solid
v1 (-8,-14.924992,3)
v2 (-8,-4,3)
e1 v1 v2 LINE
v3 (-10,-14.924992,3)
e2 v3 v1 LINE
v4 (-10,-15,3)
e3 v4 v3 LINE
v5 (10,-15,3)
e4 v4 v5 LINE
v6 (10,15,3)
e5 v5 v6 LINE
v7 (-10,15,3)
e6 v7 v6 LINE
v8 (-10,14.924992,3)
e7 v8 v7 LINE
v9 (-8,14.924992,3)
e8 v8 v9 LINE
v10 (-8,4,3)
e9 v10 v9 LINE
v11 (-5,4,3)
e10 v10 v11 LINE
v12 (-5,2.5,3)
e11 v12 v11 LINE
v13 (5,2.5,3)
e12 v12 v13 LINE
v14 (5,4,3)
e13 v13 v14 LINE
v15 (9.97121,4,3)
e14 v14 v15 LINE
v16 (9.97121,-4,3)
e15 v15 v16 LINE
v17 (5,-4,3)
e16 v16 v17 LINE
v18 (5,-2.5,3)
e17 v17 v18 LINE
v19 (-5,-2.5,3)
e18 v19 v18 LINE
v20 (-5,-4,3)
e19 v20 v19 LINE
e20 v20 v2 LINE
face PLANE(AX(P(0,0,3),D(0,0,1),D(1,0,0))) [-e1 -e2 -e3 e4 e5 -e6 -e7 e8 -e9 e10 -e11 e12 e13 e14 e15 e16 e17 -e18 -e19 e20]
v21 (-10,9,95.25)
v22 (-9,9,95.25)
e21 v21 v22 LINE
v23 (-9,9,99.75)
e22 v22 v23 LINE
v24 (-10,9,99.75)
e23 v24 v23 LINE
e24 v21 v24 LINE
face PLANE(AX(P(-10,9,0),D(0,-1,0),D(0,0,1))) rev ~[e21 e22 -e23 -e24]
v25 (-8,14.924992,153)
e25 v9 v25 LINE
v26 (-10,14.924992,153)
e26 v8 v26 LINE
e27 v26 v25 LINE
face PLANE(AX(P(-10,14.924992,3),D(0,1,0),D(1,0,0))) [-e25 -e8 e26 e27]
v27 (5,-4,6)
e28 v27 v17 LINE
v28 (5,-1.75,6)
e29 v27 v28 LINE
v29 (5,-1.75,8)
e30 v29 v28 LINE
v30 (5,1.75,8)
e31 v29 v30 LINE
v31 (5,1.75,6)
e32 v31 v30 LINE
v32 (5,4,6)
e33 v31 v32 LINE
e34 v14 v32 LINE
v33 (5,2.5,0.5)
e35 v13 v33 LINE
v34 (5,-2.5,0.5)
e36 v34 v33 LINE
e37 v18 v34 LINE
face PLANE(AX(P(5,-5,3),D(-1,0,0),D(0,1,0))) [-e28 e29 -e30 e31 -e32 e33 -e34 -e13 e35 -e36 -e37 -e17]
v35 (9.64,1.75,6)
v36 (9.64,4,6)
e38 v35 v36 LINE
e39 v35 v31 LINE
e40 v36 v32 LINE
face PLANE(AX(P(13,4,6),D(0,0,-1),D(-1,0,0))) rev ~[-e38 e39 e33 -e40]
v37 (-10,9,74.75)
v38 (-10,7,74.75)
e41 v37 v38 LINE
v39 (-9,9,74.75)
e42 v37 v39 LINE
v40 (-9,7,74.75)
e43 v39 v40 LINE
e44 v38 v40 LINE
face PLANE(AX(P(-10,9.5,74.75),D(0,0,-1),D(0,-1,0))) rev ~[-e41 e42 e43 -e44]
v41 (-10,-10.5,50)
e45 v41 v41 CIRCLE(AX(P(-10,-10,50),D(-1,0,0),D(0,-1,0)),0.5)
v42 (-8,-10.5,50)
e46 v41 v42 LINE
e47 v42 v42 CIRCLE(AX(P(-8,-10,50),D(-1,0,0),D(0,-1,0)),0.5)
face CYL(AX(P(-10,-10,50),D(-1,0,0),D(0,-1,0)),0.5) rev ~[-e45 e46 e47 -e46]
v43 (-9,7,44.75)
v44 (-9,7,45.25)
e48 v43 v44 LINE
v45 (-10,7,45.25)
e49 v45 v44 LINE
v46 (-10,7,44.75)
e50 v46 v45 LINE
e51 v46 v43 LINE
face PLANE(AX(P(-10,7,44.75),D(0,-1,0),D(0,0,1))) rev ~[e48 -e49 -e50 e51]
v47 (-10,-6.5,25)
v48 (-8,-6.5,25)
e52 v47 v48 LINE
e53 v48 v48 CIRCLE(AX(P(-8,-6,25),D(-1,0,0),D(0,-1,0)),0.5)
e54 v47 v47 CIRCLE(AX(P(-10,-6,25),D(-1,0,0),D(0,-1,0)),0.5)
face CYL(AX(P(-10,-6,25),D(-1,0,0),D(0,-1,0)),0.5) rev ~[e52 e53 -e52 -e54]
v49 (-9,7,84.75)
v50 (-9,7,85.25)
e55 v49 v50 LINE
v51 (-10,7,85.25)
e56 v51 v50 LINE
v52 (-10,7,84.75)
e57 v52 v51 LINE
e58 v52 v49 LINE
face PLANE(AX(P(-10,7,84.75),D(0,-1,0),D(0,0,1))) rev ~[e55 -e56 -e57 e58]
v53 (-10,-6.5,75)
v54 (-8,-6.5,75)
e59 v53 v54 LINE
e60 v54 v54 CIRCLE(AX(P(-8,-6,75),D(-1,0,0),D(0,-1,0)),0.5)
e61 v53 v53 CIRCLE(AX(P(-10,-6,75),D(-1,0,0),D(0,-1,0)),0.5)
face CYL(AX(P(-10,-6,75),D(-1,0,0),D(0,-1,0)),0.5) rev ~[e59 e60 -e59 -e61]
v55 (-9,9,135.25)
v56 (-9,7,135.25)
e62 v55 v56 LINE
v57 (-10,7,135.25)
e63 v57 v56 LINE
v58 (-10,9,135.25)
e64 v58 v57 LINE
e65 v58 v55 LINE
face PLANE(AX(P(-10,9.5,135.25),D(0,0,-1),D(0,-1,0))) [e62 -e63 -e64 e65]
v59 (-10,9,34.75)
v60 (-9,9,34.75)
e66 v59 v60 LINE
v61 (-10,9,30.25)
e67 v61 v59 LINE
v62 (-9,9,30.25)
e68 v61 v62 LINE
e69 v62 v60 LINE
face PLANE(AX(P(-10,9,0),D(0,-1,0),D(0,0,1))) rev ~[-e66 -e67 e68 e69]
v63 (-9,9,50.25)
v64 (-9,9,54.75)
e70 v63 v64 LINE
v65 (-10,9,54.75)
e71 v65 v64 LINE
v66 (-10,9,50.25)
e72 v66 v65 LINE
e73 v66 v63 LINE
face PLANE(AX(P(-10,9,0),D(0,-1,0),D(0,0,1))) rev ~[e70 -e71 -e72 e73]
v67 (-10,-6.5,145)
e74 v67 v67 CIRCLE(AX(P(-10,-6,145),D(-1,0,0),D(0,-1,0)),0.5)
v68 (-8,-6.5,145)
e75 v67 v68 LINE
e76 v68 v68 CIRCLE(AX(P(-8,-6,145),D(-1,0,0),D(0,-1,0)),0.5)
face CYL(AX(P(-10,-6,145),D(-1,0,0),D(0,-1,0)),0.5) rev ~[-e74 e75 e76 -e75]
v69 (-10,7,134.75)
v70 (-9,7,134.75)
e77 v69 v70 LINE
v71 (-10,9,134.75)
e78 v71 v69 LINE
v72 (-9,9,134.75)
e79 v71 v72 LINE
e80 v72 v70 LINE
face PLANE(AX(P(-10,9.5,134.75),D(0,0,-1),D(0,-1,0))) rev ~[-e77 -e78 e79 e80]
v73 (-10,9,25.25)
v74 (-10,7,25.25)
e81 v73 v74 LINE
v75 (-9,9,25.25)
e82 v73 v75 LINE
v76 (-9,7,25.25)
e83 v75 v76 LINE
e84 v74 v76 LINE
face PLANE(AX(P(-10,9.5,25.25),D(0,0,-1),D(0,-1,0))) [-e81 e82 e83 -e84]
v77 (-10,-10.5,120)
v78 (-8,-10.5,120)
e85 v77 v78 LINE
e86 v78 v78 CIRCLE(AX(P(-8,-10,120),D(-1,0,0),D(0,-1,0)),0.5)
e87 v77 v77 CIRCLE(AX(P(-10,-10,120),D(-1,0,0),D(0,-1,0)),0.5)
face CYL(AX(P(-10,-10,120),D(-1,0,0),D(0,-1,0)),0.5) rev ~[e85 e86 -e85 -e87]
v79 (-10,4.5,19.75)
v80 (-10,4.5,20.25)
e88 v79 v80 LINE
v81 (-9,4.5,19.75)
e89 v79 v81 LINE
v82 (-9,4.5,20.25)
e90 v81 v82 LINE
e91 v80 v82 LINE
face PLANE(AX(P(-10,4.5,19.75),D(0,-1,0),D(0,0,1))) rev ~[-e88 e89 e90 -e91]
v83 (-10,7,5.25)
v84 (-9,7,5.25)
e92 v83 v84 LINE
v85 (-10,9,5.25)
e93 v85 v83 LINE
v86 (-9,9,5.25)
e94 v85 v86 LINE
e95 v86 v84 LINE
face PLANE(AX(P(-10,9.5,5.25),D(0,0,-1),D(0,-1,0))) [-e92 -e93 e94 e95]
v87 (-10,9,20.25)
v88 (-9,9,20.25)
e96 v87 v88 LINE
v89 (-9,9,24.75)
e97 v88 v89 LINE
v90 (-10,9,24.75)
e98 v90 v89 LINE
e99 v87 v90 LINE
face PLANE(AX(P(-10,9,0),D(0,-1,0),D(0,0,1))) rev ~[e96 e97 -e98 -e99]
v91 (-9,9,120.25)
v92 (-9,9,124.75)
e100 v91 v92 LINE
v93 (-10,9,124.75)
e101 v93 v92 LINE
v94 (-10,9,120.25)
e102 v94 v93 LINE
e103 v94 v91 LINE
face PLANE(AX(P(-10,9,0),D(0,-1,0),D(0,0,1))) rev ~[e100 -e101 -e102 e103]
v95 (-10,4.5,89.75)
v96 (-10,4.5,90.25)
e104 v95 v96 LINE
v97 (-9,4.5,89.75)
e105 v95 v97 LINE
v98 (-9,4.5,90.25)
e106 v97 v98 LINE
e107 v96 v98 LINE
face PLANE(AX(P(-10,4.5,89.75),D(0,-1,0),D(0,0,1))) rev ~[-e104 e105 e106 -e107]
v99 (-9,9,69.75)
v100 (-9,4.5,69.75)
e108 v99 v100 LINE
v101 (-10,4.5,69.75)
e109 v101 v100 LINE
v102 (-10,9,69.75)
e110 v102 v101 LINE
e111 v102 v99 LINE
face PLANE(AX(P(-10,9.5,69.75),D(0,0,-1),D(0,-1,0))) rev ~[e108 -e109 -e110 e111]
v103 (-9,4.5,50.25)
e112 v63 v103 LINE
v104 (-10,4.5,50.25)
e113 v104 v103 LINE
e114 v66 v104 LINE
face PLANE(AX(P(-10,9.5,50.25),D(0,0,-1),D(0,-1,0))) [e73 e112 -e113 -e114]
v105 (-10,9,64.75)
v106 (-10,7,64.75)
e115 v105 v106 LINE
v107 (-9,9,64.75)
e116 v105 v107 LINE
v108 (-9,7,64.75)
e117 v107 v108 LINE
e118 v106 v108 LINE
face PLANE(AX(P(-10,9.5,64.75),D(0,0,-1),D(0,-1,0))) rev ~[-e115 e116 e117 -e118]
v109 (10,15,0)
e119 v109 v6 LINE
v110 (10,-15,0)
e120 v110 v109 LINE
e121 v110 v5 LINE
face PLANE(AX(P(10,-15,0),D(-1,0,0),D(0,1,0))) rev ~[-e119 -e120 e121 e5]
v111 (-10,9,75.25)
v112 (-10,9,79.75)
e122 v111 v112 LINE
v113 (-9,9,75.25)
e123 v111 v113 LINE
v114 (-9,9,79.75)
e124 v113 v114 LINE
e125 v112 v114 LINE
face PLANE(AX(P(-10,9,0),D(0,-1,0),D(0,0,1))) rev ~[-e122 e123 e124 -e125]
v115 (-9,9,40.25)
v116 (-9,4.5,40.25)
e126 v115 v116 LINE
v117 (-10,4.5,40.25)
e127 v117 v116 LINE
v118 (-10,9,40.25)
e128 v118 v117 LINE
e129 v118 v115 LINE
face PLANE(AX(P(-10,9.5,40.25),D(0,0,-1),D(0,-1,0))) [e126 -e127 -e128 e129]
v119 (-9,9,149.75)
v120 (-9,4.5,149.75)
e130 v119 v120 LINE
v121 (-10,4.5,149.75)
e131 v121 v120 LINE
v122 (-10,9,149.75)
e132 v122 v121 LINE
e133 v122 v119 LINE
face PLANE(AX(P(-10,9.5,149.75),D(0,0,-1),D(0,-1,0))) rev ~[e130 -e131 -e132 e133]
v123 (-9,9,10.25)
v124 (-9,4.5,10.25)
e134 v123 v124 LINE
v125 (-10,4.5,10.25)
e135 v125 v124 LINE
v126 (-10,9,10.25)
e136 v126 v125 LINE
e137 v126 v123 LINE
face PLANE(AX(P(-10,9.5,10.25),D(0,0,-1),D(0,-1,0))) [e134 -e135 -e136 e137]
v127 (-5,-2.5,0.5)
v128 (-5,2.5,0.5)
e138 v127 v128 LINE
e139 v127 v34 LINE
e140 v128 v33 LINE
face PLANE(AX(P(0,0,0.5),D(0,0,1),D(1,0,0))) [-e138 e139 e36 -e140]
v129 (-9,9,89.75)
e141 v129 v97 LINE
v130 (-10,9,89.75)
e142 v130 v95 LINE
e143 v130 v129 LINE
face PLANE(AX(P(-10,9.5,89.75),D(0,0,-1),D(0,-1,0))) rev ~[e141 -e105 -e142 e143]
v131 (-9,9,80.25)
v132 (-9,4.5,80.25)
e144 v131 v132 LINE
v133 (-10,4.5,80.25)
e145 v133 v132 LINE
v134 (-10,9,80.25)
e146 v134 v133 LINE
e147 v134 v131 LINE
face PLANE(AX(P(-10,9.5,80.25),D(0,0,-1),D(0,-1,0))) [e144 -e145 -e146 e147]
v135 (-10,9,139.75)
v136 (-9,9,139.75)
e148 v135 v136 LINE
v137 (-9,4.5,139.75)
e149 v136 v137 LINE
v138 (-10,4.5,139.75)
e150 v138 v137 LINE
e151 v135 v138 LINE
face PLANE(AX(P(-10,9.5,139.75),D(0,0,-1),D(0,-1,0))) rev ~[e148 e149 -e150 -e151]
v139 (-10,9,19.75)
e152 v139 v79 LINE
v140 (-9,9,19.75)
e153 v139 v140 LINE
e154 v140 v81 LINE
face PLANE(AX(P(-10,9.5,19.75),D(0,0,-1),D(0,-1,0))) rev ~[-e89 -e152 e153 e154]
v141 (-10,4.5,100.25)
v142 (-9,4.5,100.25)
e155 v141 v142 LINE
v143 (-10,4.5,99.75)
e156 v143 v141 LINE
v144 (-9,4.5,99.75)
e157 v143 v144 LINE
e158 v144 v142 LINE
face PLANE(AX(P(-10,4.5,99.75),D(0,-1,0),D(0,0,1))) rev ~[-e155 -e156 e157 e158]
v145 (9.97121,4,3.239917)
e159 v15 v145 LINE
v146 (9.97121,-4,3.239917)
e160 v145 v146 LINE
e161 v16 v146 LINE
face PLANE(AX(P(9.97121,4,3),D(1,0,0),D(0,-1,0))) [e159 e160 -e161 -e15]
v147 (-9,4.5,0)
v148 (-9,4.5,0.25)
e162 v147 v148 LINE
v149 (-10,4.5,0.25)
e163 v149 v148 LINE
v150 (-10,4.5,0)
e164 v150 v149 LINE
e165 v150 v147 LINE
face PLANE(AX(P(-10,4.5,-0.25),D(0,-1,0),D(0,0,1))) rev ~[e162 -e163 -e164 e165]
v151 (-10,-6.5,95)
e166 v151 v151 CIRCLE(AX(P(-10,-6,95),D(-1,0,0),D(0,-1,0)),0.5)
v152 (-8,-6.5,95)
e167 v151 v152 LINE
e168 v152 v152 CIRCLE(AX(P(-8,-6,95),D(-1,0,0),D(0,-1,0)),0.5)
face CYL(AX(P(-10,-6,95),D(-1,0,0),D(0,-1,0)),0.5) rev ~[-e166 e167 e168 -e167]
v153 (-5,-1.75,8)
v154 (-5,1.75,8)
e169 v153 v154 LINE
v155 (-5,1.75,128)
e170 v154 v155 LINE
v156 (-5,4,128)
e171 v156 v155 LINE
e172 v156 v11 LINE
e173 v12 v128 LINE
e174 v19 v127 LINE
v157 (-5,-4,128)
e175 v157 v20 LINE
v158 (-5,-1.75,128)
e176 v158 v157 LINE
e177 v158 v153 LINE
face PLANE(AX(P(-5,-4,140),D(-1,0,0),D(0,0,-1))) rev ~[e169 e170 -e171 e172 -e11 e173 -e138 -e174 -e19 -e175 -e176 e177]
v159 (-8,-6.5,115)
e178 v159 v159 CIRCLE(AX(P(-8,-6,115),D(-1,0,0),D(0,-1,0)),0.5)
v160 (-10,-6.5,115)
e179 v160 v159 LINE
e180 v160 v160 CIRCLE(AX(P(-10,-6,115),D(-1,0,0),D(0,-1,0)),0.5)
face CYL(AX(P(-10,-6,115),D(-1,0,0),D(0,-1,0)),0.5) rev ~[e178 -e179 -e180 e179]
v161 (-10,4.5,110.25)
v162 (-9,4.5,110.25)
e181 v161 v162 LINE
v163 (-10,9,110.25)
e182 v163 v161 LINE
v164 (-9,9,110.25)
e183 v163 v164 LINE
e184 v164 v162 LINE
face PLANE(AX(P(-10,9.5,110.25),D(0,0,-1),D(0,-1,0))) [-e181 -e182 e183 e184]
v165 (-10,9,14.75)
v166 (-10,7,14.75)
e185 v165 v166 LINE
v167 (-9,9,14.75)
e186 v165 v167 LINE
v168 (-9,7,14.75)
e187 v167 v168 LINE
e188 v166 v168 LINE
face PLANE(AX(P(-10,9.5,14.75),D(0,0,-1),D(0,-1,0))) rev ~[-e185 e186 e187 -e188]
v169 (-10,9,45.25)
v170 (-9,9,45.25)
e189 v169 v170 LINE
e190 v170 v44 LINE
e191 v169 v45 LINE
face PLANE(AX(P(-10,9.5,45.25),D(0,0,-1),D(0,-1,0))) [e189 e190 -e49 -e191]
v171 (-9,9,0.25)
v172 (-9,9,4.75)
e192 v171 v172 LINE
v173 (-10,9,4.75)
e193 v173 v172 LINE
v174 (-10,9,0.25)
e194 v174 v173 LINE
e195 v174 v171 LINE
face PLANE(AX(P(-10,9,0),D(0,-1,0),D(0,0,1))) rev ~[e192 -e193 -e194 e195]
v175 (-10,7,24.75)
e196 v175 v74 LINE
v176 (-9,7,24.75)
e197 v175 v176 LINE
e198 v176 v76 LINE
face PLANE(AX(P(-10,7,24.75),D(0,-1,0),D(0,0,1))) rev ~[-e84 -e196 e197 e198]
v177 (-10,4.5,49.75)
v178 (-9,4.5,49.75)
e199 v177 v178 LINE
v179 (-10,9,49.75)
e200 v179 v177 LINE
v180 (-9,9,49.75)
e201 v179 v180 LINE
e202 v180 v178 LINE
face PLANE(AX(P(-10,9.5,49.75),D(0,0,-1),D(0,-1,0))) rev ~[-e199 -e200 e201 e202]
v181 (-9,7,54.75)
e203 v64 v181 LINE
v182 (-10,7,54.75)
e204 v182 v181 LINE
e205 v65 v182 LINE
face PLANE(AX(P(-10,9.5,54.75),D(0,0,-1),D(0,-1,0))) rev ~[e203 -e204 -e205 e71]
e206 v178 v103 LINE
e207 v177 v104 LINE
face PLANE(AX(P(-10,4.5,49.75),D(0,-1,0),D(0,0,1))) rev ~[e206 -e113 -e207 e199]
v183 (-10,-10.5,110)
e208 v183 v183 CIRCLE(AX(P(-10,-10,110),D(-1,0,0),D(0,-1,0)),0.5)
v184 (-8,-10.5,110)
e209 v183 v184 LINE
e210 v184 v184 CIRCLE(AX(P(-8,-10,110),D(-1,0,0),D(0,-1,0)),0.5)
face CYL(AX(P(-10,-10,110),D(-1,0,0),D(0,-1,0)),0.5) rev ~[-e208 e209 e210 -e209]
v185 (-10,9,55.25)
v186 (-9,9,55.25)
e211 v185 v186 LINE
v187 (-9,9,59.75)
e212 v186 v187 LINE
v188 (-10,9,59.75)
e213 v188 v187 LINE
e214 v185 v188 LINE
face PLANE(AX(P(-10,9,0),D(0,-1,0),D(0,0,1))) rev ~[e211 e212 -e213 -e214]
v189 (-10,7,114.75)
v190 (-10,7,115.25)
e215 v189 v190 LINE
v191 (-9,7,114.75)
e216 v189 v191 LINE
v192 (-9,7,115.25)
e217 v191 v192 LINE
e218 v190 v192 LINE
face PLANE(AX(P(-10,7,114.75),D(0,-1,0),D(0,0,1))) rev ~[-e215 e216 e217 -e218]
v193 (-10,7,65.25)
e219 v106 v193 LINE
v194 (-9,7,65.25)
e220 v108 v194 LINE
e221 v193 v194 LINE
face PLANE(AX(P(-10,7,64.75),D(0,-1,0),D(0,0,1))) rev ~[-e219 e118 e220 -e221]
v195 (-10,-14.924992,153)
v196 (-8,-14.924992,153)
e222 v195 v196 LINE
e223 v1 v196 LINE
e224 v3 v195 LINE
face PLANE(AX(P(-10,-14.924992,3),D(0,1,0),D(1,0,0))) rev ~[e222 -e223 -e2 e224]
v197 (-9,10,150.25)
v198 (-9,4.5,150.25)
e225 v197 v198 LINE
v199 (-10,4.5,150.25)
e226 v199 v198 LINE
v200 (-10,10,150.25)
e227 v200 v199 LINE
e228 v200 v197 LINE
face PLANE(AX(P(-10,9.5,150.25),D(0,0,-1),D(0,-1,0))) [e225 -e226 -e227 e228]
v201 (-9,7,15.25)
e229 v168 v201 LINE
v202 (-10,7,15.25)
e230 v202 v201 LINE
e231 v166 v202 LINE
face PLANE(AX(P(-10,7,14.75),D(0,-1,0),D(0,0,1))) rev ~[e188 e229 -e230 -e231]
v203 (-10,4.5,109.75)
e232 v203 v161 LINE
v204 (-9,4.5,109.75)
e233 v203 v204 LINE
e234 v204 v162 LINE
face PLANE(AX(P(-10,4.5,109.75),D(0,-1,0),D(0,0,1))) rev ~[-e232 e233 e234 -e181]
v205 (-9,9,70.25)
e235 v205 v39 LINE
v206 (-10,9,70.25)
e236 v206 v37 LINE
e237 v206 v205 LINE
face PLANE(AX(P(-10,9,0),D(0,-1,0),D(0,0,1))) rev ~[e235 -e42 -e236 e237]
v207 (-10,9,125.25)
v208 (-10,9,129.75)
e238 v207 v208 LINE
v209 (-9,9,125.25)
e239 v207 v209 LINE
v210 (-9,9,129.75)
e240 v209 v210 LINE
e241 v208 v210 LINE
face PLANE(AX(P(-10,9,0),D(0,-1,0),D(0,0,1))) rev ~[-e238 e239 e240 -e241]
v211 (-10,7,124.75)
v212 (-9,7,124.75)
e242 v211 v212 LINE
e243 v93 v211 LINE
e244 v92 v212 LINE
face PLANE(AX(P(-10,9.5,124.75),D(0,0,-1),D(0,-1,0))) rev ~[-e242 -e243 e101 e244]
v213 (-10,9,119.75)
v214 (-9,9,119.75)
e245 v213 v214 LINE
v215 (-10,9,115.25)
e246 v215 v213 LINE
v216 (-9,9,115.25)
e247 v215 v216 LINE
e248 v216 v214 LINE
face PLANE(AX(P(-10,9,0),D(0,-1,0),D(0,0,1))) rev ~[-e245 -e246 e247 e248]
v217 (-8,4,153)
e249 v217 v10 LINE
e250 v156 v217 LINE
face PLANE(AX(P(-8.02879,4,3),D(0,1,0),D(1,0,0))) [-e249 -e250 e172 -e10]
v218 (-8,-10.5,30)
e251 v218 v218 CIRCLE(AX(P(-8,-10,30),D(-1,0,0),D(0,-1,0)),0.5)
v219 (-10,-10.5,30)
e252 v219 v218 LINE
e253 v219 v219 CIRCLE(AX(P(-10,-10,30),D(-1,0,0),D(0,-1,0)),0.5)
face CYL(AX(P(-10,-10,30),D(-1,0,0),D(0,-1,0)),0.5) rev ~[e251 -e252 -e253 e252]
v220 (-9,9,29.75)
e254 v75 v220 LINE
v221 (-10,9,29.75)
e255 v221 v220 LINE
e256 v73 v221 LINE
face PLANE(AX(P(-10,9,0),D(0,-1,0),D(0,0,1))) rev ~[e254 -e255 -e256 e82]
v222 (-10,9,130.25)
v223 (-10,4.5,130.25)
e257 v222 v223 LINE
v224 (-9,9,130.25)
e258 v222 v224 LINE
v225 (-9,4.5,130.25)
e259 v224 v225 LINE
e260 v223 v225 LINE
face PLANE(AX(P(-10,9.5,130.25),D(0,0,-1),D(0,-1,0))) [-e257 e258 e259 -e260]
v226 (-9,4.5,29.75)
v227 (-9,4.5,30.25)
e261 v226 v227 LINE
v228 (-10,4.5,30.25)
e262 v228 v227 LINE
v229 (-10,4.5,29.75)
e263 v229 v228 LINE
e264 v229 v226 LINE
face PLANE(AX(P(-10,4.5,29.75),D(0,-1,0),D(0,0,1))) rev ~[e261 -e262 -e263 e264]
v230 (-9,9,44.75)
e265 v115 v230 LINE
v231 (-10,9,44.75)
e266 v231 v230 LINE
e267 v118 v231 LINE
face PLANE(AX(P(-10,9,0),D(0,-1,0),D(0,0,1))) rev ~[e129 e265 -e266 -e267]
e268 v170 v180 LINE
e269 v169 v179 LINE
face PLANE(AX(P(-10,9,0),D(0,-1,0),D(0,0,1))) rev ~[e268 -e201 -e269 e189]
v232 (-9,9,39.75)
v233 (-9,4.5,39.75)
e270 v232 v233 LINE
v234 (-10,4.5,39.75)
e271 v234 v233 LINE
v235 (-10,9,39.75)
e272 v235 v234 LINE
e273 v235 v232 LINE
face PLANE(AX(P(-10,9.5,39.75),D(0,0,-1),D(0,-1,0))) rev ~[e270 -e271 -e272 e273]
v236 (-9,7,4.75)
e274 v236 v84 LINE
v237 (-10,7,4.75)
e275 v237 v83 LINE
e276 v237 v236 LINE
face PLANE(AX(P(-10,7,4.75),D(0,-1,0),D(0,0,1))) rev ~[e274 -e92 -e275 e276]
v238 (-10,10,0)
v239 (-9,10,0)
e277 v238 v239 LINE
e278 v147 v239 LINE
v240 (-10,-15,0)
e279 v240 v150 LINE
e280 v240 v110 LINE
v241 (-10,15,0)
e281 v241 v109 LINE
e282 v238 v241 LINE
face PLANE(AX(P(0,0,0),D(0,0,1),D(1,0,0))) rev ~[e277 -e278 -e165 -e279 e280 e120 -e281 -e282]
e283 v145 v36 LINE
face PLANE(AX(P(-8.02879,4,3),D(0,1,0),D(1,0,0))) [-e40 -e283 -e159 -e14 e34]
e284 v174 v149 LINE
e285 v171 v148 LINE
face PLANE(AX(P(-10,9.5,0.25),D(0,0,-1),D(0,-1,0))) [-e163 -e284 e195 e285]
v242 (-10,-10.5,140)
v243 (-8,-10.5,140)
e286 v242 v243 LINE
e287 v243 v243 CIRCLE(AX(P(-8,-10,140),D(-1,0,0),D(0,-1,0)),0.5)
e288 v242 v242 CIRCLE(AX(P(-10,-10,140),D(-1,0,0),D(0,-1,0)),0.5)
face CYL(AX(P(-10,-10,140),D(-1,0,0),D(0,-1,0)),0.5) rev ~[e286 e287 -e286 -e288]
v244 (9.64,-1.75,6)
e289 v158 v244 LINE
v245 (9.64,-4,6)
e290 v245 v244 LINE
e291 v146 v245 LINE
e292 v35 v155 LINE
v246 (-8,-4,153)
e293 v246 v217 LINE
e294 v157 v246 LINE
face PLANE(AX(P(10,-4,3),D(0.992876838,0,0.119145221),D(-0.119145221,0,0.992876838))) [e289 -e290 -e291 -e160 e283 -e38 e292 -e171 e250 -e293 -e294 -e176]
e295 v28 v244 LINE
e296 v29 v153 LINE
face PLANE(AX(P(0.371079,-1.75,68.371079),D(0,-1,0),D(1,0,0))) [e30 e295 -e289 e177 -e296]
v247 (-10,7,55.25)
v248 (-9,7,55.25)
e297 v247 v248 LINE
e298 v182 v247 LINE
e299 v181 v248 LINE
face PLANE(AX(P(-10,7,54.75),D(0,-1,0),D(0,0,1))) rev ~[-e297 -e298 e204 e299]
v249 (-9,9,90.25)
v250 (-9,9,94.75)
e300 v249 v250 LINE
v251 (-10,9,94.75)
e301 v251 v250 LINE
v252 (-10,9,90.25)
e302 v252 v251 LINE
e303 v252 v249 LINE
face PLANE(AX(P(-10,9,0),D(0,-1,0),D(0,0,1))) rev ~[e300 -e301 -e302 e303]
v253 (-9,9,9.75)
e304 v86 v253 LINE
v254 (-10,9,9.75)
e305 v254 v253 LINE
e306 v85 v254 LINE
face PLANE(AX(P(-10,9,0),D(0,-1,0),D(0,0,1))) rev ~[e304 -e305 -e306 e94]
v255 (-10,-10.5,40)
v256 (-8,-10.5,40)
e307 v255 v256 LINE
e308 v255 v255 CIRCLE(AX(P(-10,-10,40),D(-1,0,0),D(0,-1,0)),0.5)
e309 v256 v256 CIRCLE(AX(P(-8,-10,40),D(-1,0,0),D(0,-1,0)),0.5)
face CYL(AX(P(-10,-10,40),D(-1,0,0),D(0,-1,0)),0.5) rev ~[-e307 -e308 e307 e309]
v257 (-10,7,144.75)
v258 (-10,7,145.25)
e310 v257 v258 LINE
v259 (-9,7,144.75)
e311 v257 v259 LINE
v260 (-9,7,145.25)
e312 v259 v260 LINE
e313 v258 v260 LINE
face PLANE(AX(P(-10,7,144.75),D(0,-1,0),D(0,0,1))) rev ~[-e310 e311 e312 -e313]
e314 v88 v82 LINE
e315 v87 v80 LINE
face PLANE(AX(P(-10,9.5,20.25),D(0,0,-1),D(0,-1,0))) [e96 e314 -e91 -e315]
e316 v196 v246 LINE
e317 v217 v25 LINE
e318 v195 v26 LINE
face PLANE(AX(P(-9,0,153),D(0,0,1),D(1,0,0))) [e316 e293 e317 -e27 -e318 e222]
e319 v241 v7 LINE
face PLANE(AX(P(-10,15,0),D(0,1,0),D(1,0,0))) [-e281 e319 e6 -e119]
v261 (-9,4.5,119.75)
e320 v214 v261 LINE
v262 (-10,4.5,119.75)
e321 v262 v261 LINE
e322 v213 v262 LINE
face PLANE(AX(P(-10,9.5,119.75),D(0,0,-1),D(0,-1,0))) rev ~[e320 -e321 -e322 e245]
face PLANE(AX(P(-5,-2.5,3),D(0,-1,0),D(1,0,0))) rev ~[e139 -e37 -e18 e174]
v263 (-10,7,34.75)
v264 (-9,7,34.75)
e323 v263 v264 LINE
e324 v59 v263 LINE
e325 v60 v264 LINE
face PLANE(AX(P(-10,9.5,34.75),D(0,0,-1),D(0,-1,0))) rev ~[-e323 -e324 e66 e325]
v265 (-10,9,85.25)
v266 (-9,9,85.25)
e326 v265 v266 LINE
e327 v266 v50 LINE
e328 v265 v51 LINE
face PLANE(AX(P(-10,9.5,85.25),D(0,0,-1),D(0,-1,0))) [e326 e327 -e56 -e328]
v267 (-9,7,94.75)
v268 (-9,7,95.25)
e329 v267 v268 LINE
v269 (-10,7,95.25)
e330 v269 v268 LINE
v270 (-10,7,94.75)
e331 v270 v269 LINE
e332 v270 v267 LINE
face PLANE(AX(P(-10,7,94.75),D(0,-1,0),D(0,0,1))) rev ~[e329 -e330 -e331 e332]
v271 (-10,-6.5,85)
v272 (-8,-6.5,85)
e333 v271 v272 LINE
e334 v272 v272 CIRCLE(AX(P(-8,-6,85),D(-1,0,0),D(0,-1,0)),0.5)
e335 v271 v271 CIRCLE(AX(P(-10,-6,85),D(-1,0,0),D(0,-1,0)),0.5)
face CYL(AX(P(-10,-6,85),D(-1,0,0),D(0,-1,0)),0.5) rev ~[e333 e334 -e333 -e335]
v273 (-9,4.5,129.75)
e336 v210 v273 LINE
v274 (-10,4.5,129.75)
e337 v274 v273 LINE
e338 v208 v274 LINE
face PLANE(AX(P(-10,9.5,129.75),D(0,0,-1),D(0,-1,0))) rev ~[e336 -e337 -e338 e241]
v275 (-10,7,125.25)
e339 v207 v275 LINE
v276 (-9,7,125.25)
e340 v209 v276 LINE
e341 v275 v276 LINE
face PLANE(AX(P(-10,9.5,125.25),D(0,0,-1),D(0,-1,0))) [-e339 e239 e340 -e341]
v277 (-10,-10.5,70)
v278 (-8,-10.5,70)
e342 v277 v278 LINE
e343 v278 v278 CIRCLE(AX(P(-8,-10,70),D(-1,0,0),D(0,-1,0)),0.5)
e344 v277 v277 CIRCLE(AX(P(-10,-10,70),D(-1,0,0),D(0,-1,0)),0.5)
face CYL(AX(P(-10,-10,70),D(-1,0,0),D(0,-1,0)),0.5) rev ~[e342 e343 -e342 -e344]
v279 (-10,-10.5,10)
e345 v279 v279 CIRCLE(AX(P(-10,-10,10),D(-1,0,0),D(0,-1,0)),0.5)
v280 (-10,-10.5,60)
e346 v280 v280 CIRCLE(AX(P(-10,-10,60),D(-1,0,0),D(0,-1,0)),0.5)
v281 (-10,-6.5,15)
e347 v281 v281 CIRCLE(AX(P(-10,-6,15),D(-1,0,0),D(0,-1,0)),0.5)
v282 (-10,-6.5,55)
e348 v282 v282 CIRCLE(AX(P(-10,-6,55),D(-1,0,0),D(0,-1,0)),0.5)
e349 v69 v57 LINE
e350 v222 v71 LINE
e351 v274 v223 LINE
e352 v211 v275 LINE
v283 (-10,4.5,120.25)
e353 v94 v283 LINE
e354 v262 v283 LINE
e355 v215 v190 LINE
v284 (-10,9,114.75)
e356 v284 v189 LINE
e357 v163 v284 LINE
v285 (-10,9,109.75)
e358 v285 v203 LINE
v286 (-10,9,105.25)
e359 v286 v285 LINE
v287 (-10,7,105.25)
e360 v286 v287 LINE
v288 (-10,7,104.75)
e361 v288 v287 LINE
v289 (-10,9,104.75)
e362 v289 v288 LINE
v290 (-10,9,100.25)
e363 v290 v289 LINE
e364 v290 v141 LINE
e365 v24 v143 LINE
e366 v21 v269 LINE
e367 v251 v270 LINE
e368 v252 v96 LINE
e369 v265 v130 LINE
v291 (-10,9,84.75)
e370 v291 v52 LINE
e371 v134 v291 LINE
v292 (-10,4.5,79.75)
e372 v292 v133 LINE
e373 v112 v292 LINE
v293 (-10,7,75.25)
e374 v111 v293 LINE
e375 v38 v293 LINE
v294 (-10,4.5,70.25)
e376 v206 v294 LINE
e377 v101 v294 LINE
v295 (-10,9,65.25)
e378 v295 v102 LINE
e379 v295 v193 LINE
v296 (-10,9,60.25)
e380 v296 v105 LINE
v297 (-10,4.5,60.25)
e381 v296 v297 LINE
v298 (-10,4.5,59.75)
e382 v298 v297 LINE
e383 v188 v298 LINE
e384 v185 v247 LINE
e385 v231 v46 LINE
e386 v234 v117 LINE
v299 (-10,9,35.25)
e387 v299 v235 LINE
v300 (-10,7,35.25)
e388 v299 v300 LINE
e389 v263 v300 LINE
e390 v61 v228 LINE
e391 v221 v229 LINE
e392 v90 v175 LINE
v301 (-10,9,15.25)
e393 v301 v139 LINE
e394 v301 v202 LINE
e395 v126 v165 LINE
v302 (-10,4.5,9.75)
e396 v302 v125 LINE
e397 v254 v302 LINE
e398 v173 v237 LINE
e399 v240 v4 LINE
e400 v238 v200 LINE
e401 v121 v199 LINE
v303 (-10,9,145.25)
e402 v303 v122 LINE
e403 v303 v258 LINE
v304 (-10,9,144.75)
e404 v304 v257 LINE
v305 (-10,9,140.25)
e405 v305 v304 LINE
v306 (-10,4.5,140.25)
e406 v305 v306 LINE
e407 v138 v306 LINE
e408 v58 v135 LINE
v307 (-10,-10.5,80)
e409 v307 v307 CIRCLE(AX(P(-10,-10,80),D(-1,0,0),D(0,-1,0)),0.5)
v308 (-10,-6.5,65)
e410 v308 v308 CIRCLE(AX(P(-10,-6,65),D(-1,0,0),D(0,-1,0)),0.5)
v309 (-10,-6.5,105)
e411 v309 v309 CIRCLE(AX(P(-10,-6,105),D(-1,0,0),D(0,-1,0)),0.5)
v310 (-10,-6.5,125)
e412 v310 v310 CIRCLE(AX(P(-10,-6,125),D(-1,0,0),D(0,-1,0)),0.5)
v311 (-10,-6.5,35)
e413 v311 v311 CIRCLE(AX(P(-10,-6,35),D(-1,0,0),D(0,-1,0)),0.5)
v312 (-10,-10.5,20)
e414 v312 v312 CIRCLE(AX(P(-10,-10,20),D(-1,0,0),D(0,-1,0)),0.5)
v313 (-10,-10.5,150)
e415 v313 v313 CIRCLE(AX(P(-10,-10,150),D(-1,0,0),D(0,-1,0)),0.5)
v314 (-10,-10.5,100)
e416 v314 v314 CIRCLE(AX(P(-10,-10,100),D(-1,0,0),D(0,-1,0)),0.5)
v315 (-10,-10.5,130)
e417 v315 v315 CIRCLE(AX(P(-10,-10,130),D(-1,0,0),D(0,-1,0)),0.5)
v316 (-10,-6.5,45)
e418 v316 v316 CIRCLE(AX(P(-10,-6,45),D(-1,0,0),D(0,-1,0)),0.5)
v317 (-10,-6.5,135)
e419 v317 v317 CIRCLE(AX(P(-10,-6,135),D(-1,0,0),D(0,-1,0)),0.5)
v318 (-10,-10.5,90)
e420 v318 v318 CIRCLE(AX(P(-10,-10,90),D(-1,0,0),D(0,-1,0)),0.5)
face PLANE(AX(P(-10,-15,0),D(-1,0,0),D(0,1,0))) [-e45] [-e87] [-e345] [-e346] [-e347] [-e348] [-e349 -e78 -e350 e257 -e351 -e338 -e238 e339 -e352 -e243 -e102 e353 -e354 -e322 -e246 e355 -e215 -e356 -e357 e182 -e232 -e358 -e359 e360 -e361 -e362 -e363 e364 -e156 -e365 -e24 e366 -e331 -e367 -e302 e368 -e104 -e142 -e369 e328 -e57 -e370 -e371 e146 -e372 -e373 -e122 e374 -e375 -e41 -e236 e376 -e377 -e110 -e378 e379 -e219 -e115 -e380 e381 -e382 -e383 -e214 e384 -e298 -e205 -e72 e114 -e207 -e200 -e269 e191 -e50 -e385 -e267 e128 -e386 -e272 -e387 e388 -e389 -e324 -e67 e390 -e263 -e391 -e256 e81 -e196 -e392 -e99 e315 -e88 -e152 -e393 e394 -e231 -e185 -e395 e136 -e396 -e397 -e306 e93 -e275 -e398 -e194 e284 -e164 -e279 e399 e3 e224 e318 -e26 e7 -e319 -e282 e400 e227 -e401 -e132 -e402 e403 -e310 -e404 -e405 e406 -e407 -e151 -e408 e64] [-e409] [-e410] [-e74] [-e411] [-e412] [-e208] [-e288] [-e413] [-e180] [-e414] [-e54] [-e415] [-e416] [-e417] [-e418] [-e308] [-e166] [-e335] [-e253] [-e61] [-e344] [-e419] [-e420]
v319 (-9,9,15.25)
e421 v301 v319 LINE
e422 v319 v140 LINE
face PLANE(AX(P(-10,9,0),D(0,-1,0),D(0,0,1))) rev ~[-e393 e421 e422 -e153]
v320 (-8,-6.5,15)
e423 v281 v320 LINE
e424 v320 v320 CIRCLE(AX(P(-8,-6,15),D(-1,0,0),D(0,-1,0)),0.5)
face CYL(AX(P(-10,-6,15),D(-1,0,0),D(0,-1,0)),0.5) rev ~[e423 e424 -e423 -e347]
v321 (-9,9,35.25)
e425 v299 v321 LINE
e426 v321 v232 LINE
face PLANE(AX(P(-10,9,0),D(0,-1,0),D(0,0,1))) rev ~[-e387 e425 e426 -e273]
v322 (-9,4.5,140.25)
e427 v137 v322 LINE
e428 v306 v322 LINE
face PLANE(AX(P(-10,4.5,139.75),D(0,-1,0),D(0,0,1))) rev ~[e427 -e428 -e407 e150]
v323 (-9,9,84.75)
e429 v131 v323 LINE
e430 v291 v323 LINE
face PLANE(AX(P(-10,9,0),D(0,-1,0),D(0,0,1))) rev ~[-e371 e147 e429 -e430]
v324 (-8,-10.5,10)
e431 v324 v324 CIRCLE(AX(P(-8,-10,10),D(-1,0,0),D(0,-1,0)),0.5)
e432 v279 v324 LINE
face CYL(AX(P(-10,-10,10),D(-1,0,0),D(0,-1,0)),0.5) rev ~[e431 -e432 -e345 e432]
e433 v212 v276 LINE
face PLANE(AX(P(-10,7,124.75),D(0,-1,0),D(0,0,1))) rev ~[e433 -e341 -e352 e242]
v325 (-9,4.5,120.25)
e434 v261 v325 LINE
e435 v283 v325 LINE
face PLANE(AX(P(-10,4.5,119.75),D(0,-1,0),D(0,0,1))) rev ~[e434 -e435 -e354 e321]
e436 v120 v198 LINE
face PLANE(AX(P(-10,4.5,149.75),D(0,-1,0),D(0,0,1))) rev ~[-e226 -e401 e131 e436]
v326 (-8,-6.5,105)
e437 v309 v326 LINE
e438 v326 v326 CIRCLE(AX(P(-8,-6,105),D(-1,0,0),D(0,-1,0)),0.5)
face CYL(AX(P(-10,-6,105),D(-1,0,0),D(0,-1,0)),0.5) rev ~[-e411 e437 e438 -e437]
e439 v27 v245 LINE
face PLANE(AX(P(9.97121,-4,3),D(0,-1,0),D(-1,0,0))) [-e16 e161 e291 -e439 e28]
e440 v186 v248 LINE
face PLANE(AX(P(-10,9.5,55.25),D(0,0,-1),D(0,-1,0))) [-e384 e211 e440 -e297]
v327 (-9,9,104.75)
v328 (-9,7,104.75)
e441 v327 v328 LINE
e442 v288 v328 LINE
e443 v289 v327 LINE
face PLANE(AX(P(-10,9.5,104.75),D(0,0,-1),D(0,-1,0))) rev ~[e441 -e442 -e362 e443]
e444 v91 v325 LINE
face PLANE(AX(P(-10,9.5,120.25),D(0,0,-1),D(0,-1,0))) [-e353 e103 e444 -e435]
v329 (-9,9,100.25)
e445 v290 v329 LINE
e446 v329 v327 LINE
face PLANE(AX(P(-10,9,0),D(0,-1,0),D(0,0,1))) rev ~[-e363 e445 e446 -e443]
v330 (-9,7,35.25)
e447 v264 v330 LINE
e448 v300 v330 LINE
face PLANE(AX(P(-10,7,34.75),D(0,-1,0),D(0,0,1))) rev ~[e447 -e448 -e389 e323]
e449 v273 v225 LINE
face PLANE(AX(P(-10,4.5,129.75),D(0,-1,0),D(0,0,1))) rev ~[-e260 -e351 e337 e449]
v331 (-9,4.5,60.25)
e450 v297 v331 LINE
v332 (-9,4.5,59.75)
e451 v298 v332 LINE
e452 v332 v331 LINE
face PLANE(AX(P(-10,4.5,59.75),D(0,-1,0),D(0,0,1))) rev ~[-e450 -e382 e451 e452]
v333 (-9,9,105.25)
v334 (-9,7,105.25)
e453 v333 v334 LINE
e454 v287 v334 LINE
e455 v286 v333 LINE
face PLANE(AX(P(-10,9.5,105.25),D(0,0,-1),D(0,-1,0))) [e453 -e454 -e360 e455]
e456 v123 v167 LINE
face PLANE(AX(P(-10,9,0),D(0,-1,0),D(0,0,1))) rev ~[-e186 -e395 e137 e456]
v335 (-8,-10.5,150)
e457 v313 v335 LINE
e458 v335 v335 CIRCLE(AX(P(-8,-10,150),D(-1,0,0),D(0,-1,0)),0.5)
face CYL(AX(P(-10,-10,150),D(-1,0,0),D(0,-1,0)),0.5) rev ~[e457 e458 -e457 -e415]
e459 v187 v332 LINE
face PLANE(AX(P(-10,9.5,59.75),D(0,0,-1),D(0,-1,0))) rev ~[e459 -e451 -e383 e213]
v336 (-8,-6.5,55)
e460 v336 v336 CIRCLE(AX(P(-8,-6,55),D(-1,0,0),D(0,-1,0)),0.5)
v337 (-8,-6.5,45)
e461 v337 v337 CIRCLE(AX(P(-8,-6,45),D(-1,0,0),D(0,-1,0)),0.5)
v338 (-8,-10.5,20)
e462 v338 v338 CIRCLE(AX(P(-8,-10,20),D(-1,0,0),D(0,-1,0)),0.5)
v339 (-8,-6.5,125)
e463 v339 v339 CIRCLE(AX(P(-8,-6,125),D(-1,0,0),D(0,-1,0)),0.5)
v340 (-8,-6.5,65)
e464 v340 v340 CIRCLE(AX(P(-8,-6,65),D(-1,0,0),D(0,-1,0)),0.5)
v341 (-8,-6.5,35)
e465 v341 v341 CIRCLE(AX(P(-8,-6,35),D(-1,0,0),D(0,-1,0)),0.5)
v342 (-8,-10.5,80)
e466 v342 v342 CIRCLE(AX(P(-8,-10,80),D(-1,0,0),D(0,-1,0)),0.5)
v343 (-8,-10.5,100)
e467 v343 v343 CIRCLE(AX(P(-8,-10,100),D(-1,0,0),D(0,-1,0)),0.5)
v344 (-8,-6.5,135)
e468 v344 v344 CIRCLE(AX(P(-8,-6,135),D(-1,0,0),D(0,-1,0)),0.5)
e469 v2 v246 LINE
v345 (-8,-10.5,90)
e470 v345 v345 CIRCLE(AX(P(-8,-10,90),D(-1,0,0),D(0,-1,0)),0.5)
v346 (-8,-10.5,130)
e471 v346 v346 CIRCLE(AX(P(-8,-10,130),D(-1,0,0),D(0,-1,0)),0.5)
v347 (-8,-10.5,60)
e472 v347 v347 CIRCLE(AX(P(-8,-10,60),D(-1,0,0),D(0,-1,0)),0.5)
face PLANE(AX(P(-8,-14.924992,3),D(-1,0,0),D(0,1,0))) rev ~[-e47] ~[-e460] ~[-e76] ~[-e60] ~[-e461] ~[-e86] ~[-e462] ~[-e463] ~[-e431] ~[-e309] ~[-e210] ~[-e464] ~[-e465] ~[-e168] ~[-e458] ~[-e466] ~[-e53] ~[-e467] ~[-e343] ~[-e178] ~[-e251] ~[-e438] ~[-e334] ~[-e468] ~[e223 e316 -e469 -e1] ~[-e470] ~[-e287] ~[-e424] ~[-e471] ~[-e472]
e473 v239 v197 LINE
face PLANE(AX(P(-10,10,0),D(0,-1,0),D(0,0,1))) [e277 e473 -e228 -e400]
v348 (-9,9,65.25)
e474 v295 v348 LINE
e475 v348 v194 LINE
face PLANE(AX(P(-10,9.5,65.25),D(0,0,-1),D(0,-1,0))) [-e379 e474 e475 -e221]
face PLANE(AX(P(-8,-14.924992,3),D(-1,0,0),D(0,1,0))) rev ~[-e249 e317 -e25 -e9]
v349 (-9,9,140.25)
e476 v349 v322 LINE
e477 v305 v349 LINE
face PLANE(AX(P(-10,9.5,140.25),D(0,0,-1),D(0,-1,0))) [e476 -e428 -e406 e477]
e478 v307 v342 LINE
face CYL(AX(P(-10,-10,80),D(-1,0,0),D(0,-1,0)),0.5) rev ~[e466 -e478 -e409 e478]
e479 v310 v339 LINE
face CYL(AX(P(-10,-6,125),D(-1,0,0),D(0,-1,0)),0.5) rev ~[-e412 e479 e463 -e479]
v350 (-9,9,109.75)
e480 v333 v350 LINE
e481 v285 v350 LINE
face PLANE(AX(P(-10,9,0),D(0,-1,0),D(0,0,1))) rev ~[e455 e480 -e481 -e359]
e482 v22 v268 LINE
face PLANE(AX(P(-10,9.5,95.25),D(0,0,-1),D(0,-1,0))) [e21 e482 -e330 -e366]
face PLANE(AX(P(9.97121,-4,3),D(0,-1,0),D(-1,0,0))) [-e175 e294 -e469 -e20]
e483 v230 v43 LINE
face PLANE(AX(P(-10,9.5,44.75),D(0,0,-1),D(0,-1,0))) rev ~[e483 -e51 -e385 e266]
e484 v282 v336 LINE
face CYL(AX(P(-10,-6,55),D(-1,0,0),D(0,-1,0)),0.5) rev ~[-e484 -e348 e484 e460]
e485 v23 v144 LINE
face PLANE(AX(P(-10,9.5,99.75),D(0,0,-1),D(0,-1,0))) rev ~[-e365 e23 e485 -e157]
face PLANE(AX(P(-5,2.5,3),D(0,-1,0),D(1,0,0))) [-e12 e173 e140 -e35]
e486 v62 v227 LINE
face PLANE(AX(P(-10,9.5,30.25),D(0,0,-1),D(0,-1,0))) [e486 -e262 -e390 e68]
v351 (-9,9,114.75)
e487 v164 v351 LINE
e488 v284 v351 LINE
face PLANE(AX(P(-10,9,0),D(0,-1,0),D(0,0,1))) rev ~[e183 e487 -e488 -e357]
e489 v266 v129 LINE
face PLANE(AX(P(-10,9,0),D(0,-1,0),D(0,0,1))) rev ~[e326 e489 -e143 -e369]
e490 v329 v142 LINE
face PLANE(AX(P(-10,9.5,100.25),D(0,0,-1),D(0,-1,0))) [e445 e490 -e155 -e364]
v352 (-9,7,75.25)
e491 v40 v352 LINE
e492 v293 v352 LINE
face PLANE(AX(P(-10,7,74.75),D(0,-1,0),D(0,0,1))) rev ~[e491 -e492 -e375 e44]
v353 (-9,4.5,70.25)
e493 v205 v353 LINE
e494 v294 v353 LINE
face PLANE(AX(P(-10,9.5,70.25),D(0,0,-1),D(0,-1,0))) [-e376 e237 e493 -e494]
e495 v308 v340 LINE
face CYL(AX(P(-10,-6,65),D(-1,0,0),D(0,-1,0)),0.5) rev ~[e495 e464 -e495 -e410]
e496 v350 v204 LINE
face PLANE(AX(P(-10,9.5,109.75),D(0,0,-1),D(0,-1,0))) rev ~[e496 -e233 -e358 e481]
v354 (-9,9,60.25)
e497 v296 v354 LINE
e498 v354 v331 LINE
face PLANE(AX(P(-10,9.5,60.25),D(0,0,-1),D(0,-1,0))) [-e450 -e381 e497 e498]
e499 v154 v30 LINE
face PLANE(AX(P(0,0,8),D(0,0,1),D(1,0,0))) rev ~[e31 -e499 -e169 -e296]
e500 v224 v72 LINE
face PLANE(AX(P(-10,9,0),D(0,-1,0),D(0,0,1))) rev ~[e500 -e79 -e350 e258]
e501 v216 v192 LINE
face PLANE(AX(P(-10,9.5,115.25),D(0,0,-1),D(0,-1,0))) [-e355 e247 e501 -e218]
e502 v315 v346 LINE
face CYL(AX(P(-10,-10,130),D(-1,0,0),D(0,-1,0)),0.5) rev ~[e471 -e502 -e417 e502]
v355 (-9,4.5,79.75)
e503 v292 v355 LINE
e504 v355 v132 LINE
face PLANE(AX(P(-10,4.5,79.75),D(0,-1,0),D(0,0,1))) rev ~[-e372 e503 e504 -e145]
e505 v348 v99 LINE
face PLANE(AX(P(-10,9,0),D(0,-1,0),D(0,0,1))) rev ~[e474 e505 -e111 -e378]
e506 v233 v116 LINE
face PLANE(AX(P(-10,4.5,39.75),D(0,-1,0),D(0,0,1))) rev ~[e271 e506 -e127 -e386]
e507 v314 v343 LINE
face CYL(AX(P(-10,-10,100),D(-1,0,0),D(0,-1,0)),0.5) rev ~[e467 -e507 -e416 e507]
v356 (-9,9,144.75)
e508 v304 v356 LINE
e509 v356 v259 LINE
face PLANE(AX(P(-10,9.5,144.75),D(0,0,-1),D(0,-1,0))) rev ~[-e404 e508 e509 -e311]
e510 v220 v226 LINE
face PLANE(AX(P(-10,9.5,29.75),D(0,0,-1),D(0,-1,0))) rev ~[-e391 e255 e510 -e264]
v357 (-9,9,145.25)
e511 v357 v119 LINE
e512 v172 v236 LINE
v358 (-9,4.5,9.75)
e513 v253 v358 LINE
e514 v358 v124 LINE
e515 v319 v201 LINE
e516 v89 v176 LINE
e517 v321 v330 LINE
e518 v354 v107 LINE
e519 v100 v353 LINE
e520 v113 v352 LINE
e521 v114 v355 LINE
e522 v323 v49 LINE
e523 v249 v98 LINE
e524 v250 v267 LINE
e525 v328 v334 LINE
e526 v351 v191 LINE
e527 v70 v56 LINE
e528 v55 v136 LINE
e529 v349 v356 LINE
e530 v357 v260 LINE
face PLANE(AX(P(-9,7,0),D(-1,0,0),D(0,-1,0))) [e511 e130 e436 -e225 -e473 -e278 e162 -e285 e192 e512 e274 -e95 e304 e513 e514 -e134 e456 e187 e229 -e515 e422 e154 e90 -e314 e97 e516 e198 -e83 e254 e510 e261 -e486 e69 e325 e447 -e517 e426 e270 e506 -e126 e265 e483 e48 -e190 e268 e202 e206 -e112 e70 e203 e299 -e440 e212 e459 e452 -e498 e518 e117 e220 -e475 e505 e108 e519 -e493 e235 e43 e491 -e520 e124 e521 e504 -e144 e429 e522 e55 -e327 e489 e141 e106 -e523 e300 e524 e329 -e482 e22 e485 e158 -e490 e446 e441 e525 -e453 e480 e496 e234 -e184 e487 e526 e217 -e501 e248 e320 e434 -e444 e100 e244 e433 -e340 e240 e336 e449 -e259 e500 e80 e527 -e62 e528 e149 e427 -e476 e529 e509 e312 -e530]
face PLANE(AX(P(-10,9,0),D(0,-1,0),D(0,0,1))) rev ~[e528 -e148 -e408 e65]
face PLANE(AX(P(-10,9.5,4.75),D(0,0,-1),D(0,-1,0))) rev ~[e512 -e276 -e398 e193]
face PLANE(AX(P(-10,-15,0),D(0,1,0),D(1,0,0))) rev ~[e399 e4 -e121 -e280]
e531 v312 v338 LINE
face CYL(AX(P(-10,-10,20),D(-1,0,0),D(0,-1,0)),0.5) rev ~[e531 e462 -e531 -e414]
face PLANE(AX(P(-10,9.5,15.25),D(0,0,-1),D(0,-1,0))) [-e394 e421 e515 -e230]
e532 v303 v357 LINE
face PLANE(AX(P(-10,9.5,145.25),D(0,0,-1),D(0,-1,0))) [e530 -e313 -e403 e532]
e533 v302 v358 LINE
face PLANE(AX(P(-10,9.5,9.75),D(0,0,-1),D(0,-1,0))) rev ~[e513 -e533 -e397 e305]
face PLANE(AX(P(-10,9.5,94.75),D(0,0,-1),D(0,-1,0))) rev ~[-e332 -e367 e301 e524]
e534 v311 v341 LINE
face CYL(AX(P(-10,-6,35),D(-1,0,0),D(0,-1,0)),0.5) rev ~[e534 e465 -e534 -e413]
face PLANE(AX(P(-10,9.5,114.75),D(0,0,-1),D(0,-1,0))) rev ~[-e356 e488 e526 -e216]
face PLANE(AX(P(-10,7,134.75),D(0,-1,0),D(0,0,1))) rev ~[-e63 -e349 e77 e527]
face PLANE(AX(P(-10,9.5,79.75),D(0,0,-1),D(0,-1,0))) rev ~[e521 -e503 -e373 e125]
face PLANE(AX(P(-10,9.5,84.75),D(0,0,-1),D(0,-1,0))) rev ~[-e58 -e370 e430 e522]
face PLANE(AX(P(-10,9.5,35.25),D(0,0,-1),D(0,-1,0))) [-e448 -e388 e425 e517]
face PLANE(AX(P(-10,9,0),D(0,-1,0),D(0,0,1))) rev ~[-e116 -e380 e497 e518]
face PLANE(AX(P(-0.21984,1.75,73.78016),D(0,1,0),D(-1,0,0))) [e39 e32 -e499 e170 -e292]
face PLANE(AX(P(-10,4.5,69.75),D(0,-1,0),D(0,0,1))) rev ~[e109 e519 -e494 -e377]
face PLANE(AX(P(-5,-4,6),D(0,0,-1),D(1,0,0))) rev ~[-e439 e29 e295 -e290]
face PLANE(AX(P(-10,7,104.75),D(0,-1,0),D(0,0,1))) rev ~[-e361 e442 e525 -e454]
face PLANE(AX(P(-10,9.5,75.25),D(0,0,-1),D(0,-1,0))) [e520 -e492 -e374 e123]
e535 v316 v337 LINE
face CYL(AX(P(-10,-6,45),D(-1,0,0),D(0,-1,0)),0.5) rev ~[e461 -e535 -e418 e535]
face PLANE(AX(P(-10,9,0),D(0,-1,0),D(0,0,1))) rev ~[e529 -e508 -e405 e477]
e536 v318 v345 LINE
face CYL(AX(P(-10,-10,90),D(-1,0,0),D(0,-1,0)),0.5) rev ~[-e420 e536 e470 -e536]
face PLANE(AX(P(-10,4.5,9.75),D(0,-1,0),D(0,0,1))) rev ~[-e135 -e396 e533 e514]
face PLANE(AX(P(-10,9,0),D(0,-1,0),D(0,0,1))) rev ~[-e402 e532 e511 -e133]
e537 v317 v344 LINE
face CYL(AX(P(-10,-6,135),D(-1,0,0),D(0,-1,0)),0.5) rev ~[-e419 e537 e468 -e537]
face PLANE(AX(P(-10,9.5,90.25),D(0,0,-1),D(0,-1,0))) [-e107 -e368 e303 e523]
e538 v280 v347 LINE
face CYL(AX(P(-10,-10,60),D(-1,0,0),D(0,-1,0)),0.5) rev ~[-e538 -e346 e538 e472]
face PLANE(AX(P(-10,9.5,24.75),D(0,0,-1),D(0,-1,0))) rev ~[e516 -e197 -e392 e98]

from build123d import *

# Parameters (mm, degrees)
SKETCH_W               = 20
SKETCH_H               = 30
PAD_DEPTH              = 3
SKETCH001_W            = 2
SKETCH001_H            = 29.849984
PAD001_DEPTH           = 150
PAD002_DEPTH           = 150
POCKET_DEPTH           = 8
POCKET001_DEPTH        = 2.25
POCKET002_DEPTH        = 2.25
SKETCH008_W            = 10
SKETCH008_H            = 5
POCKET003_DEPTH        = 2.5
SKETCH009_W            = 10
SKETCH009_H            = 10
POCKET004_DEPTH        = 5
SKETCH010_W            = 1
SKETCH010_H            = 150.25
POCKET005_DEPTH        = 1
SKETCH011_W            = 5
SKETCH011_H            = 0.5
POCKET006_DEPTH        = 1
LINEARPATTERN_COUNT    = 16
LINEARPATTERN_PITCH    = 10
SKETCH012_W            = 2.5
SKETCH012_H            = 0.5
POCKET007_DEPTH        = 1
LINEARPATTERN001_COUNT = 15
LINEARPATTERN001_PITCH = 10
SKETCH013_R            = 0.5
POCKET008_DEPTH        = 5
LINEARPATTERN002_COUNT = 15
LINEARPATTERN002_PITCH = 10
SKETCH014_R            = 0.5
POCKET009_DEPTH        = 5
LINEARPATTERN003_COUNT = 14
LINEARPATTERN003_PITCH = 10


with BuildPart() as part:
    # Sketch → Pad (new body)
    with BuildSketch(Plane.XY):
        Rectangle(SKETCH_W, SKETCH_H)
    extrude(amount=PAD_DEPTH)

    # Sketch001 (on Face6 of Pad) → Pad001 (join)
    with BuildSketch(Plane.XY.offset(3)):
        with Locations((-9, 0)):
            Rectangle(SKETCH001_W, SKETCH001_H)
    extrude(amount=PAD001_DEPTH)

    # Sketch003 (on Face5 of Pad001) → Pad002 (join)
    with BuildSketch(Plane.XY.offset(3)):
        Polygon((-8.02879, 4), (9.97121, 4), (9.97121, -4), (-8.007794, -4), align=None)
    extrude(amount=PAD002_DEPTH)

    # Sketch005 (on Face10 of Pad002) → Pocket (cut)
    with BuildSketch(Plane.XZ.offset(4)):
        Polygon((-8, 153), (10, 153), (10, 3), align=None)
    extrude(amount=-POCKET_DEPTH, mode=Mode.SUBTRACT)

    # Sketch006 (on Face10 of Pocket) → Pocket001 (cut)
    with BuildSketch(Plane.XZ.offset(4)):
        Polygon((-5, 140), (-5, 6), (15, 6), align=None)
    extrude(amount=-POCKET001_DEPTH, mode=Mode.SUBTRACT)

    # Sketch007 (on Face12 of Pocket001) → Pocket002 (cut)
    with BuildSketch(Plane(origin=(0, 4, 0), x_dir=(-1, 0, 0), z_dir=(0, 1, 0))):
        Polygon((-13, 6), (5, 6), (5, 150), align=None)
    extrude(amount=-POCKET002_DEPTH, mode=Mode.SUBTRACT)

    # Sketch008 (on Face5 of Pocket002) → Pocket003 (cut)
    with BuildSketch(Plane.XY.offset(3)):
        Rectangle(SKETCH008_W, SKETCH008_H)
    extrude(amount=-POCKET003_DEPTH, mode=Mode.SUBTRACT)

    # Sketch009 (on Face5 of Pocket003) → Pocket004 (cut)
    with BuildSketch(Plane.XY.offset(3)):
        Rectangle(SKETCH009_W, SKETCH009_H)
    extrude(amount=POCKET004_DEPTH, mode=Mode.SUBTRACT)

    # Sketch010 (on Face3 of Pocket004) → Pocket005 (cut)
    with BuildSketch(Plane(origin=(-10, 0, 0), x_dir=(0, -1, 0), z_dir=(-1, 0, 0))):
        with Locations((-9.5, 75.125)):
            Rectangle(SKETCH010_W, SKETCH010_H)
    extrude(amount=-POCKET005_DEPTH, mode=Mode.SUBTRACT)

    # Sketch011 (on Face8 of Pocket005) → Pocket006 (cut)
    with BuildSketch(Plane(origin=(-10, 0, 0), x_dir=(0, -1, 0), z_dir=(-1, 0, 0))):
        with Locations((-7, 0)):
            Rectangle(SKETCH011_W, SKETCH011_H)
    pocket006 = extrude(amount=-POCKET006_DEPTH, mode=Mode.SUBTRACT)

    # LinearPattern: Pocket006 ×16
    with Locations(*[(0, 0, i * LINEARPATTERN_PITCH) for i in range(1, LINEARPATTERN_COUNT)]):
        add(pocket006, mode=Mode.SUBTRACT)

    # Sketch012 (on Face8 of LinearPattern) → Pocket007 (cut)
    with BuildSketch(Plane(origin=(-10, 0, 0), x_dir=(0, -1, 0), z_dir=(-1, 0, 0))):
        with Locations((-8.25, 5)):
            Rectangle(SKETCH012_W, SKETCH012_H)
    pocket007 = extrude(amount=-POCKET007_DEPTH, mode=Mode.SUBTRACT)

    # LinearPattern001: Pocket007 ×15
    with Locations(*[(0, 0, i * LINEARPATTERN001_PITCH) for i in range(1, LINEARPATTERN001_COUNT)]):
        add(pocket007, mode=Mode.SUBTRACT)

    # Sketch013 (on Face8 of LinearPattern001) → Pocket008 (cut)
    with BuildSketch(Plane(origin=(-10, 0, 0), x_dir=(0, -1, 0), z_dir=(-1, 0, 0))):
        with Locations((10, 10)):
            Circle(SKETCH013_R)
    pocket008 = extrude(amount=-POCKET008_DEPTH, mode=Mode.SUBTRACT)

    # LinearPattern002: Pocket008 ×15
    with Locations(*[(0, 0, i * LINEARPATTERN002_PITCH) for i in range(1, LINEARPATTERN002_COUNT)]):
        add(pocket008, mode=Mode.SUBTRACT)

    # Sketch014 (on Face8 of LinearPattern002) → Pocket009 (cut)
    with BuildSketch(Plane(origin=(-10, 0, 0), x_dir=(0, -1, 0), z_dir=(-1, 0, 0))):
        with Locations((6, 15)):
            Circle(SKETCH014_R)
    pocket009 = extrude(amount=-POCKET009_DEPTH, mode=Mode.SUBTRACT)

    # LinearPattern003: Pocket009 ×14
    with Locations(*[(0, 0, i * LINEARPATTERN003_PITCH) for i in range(1, LINEARPATTERN003_COUNT)]):
        add(pocket009, mode=Mode.SUBTRACT)


solid = part.part
